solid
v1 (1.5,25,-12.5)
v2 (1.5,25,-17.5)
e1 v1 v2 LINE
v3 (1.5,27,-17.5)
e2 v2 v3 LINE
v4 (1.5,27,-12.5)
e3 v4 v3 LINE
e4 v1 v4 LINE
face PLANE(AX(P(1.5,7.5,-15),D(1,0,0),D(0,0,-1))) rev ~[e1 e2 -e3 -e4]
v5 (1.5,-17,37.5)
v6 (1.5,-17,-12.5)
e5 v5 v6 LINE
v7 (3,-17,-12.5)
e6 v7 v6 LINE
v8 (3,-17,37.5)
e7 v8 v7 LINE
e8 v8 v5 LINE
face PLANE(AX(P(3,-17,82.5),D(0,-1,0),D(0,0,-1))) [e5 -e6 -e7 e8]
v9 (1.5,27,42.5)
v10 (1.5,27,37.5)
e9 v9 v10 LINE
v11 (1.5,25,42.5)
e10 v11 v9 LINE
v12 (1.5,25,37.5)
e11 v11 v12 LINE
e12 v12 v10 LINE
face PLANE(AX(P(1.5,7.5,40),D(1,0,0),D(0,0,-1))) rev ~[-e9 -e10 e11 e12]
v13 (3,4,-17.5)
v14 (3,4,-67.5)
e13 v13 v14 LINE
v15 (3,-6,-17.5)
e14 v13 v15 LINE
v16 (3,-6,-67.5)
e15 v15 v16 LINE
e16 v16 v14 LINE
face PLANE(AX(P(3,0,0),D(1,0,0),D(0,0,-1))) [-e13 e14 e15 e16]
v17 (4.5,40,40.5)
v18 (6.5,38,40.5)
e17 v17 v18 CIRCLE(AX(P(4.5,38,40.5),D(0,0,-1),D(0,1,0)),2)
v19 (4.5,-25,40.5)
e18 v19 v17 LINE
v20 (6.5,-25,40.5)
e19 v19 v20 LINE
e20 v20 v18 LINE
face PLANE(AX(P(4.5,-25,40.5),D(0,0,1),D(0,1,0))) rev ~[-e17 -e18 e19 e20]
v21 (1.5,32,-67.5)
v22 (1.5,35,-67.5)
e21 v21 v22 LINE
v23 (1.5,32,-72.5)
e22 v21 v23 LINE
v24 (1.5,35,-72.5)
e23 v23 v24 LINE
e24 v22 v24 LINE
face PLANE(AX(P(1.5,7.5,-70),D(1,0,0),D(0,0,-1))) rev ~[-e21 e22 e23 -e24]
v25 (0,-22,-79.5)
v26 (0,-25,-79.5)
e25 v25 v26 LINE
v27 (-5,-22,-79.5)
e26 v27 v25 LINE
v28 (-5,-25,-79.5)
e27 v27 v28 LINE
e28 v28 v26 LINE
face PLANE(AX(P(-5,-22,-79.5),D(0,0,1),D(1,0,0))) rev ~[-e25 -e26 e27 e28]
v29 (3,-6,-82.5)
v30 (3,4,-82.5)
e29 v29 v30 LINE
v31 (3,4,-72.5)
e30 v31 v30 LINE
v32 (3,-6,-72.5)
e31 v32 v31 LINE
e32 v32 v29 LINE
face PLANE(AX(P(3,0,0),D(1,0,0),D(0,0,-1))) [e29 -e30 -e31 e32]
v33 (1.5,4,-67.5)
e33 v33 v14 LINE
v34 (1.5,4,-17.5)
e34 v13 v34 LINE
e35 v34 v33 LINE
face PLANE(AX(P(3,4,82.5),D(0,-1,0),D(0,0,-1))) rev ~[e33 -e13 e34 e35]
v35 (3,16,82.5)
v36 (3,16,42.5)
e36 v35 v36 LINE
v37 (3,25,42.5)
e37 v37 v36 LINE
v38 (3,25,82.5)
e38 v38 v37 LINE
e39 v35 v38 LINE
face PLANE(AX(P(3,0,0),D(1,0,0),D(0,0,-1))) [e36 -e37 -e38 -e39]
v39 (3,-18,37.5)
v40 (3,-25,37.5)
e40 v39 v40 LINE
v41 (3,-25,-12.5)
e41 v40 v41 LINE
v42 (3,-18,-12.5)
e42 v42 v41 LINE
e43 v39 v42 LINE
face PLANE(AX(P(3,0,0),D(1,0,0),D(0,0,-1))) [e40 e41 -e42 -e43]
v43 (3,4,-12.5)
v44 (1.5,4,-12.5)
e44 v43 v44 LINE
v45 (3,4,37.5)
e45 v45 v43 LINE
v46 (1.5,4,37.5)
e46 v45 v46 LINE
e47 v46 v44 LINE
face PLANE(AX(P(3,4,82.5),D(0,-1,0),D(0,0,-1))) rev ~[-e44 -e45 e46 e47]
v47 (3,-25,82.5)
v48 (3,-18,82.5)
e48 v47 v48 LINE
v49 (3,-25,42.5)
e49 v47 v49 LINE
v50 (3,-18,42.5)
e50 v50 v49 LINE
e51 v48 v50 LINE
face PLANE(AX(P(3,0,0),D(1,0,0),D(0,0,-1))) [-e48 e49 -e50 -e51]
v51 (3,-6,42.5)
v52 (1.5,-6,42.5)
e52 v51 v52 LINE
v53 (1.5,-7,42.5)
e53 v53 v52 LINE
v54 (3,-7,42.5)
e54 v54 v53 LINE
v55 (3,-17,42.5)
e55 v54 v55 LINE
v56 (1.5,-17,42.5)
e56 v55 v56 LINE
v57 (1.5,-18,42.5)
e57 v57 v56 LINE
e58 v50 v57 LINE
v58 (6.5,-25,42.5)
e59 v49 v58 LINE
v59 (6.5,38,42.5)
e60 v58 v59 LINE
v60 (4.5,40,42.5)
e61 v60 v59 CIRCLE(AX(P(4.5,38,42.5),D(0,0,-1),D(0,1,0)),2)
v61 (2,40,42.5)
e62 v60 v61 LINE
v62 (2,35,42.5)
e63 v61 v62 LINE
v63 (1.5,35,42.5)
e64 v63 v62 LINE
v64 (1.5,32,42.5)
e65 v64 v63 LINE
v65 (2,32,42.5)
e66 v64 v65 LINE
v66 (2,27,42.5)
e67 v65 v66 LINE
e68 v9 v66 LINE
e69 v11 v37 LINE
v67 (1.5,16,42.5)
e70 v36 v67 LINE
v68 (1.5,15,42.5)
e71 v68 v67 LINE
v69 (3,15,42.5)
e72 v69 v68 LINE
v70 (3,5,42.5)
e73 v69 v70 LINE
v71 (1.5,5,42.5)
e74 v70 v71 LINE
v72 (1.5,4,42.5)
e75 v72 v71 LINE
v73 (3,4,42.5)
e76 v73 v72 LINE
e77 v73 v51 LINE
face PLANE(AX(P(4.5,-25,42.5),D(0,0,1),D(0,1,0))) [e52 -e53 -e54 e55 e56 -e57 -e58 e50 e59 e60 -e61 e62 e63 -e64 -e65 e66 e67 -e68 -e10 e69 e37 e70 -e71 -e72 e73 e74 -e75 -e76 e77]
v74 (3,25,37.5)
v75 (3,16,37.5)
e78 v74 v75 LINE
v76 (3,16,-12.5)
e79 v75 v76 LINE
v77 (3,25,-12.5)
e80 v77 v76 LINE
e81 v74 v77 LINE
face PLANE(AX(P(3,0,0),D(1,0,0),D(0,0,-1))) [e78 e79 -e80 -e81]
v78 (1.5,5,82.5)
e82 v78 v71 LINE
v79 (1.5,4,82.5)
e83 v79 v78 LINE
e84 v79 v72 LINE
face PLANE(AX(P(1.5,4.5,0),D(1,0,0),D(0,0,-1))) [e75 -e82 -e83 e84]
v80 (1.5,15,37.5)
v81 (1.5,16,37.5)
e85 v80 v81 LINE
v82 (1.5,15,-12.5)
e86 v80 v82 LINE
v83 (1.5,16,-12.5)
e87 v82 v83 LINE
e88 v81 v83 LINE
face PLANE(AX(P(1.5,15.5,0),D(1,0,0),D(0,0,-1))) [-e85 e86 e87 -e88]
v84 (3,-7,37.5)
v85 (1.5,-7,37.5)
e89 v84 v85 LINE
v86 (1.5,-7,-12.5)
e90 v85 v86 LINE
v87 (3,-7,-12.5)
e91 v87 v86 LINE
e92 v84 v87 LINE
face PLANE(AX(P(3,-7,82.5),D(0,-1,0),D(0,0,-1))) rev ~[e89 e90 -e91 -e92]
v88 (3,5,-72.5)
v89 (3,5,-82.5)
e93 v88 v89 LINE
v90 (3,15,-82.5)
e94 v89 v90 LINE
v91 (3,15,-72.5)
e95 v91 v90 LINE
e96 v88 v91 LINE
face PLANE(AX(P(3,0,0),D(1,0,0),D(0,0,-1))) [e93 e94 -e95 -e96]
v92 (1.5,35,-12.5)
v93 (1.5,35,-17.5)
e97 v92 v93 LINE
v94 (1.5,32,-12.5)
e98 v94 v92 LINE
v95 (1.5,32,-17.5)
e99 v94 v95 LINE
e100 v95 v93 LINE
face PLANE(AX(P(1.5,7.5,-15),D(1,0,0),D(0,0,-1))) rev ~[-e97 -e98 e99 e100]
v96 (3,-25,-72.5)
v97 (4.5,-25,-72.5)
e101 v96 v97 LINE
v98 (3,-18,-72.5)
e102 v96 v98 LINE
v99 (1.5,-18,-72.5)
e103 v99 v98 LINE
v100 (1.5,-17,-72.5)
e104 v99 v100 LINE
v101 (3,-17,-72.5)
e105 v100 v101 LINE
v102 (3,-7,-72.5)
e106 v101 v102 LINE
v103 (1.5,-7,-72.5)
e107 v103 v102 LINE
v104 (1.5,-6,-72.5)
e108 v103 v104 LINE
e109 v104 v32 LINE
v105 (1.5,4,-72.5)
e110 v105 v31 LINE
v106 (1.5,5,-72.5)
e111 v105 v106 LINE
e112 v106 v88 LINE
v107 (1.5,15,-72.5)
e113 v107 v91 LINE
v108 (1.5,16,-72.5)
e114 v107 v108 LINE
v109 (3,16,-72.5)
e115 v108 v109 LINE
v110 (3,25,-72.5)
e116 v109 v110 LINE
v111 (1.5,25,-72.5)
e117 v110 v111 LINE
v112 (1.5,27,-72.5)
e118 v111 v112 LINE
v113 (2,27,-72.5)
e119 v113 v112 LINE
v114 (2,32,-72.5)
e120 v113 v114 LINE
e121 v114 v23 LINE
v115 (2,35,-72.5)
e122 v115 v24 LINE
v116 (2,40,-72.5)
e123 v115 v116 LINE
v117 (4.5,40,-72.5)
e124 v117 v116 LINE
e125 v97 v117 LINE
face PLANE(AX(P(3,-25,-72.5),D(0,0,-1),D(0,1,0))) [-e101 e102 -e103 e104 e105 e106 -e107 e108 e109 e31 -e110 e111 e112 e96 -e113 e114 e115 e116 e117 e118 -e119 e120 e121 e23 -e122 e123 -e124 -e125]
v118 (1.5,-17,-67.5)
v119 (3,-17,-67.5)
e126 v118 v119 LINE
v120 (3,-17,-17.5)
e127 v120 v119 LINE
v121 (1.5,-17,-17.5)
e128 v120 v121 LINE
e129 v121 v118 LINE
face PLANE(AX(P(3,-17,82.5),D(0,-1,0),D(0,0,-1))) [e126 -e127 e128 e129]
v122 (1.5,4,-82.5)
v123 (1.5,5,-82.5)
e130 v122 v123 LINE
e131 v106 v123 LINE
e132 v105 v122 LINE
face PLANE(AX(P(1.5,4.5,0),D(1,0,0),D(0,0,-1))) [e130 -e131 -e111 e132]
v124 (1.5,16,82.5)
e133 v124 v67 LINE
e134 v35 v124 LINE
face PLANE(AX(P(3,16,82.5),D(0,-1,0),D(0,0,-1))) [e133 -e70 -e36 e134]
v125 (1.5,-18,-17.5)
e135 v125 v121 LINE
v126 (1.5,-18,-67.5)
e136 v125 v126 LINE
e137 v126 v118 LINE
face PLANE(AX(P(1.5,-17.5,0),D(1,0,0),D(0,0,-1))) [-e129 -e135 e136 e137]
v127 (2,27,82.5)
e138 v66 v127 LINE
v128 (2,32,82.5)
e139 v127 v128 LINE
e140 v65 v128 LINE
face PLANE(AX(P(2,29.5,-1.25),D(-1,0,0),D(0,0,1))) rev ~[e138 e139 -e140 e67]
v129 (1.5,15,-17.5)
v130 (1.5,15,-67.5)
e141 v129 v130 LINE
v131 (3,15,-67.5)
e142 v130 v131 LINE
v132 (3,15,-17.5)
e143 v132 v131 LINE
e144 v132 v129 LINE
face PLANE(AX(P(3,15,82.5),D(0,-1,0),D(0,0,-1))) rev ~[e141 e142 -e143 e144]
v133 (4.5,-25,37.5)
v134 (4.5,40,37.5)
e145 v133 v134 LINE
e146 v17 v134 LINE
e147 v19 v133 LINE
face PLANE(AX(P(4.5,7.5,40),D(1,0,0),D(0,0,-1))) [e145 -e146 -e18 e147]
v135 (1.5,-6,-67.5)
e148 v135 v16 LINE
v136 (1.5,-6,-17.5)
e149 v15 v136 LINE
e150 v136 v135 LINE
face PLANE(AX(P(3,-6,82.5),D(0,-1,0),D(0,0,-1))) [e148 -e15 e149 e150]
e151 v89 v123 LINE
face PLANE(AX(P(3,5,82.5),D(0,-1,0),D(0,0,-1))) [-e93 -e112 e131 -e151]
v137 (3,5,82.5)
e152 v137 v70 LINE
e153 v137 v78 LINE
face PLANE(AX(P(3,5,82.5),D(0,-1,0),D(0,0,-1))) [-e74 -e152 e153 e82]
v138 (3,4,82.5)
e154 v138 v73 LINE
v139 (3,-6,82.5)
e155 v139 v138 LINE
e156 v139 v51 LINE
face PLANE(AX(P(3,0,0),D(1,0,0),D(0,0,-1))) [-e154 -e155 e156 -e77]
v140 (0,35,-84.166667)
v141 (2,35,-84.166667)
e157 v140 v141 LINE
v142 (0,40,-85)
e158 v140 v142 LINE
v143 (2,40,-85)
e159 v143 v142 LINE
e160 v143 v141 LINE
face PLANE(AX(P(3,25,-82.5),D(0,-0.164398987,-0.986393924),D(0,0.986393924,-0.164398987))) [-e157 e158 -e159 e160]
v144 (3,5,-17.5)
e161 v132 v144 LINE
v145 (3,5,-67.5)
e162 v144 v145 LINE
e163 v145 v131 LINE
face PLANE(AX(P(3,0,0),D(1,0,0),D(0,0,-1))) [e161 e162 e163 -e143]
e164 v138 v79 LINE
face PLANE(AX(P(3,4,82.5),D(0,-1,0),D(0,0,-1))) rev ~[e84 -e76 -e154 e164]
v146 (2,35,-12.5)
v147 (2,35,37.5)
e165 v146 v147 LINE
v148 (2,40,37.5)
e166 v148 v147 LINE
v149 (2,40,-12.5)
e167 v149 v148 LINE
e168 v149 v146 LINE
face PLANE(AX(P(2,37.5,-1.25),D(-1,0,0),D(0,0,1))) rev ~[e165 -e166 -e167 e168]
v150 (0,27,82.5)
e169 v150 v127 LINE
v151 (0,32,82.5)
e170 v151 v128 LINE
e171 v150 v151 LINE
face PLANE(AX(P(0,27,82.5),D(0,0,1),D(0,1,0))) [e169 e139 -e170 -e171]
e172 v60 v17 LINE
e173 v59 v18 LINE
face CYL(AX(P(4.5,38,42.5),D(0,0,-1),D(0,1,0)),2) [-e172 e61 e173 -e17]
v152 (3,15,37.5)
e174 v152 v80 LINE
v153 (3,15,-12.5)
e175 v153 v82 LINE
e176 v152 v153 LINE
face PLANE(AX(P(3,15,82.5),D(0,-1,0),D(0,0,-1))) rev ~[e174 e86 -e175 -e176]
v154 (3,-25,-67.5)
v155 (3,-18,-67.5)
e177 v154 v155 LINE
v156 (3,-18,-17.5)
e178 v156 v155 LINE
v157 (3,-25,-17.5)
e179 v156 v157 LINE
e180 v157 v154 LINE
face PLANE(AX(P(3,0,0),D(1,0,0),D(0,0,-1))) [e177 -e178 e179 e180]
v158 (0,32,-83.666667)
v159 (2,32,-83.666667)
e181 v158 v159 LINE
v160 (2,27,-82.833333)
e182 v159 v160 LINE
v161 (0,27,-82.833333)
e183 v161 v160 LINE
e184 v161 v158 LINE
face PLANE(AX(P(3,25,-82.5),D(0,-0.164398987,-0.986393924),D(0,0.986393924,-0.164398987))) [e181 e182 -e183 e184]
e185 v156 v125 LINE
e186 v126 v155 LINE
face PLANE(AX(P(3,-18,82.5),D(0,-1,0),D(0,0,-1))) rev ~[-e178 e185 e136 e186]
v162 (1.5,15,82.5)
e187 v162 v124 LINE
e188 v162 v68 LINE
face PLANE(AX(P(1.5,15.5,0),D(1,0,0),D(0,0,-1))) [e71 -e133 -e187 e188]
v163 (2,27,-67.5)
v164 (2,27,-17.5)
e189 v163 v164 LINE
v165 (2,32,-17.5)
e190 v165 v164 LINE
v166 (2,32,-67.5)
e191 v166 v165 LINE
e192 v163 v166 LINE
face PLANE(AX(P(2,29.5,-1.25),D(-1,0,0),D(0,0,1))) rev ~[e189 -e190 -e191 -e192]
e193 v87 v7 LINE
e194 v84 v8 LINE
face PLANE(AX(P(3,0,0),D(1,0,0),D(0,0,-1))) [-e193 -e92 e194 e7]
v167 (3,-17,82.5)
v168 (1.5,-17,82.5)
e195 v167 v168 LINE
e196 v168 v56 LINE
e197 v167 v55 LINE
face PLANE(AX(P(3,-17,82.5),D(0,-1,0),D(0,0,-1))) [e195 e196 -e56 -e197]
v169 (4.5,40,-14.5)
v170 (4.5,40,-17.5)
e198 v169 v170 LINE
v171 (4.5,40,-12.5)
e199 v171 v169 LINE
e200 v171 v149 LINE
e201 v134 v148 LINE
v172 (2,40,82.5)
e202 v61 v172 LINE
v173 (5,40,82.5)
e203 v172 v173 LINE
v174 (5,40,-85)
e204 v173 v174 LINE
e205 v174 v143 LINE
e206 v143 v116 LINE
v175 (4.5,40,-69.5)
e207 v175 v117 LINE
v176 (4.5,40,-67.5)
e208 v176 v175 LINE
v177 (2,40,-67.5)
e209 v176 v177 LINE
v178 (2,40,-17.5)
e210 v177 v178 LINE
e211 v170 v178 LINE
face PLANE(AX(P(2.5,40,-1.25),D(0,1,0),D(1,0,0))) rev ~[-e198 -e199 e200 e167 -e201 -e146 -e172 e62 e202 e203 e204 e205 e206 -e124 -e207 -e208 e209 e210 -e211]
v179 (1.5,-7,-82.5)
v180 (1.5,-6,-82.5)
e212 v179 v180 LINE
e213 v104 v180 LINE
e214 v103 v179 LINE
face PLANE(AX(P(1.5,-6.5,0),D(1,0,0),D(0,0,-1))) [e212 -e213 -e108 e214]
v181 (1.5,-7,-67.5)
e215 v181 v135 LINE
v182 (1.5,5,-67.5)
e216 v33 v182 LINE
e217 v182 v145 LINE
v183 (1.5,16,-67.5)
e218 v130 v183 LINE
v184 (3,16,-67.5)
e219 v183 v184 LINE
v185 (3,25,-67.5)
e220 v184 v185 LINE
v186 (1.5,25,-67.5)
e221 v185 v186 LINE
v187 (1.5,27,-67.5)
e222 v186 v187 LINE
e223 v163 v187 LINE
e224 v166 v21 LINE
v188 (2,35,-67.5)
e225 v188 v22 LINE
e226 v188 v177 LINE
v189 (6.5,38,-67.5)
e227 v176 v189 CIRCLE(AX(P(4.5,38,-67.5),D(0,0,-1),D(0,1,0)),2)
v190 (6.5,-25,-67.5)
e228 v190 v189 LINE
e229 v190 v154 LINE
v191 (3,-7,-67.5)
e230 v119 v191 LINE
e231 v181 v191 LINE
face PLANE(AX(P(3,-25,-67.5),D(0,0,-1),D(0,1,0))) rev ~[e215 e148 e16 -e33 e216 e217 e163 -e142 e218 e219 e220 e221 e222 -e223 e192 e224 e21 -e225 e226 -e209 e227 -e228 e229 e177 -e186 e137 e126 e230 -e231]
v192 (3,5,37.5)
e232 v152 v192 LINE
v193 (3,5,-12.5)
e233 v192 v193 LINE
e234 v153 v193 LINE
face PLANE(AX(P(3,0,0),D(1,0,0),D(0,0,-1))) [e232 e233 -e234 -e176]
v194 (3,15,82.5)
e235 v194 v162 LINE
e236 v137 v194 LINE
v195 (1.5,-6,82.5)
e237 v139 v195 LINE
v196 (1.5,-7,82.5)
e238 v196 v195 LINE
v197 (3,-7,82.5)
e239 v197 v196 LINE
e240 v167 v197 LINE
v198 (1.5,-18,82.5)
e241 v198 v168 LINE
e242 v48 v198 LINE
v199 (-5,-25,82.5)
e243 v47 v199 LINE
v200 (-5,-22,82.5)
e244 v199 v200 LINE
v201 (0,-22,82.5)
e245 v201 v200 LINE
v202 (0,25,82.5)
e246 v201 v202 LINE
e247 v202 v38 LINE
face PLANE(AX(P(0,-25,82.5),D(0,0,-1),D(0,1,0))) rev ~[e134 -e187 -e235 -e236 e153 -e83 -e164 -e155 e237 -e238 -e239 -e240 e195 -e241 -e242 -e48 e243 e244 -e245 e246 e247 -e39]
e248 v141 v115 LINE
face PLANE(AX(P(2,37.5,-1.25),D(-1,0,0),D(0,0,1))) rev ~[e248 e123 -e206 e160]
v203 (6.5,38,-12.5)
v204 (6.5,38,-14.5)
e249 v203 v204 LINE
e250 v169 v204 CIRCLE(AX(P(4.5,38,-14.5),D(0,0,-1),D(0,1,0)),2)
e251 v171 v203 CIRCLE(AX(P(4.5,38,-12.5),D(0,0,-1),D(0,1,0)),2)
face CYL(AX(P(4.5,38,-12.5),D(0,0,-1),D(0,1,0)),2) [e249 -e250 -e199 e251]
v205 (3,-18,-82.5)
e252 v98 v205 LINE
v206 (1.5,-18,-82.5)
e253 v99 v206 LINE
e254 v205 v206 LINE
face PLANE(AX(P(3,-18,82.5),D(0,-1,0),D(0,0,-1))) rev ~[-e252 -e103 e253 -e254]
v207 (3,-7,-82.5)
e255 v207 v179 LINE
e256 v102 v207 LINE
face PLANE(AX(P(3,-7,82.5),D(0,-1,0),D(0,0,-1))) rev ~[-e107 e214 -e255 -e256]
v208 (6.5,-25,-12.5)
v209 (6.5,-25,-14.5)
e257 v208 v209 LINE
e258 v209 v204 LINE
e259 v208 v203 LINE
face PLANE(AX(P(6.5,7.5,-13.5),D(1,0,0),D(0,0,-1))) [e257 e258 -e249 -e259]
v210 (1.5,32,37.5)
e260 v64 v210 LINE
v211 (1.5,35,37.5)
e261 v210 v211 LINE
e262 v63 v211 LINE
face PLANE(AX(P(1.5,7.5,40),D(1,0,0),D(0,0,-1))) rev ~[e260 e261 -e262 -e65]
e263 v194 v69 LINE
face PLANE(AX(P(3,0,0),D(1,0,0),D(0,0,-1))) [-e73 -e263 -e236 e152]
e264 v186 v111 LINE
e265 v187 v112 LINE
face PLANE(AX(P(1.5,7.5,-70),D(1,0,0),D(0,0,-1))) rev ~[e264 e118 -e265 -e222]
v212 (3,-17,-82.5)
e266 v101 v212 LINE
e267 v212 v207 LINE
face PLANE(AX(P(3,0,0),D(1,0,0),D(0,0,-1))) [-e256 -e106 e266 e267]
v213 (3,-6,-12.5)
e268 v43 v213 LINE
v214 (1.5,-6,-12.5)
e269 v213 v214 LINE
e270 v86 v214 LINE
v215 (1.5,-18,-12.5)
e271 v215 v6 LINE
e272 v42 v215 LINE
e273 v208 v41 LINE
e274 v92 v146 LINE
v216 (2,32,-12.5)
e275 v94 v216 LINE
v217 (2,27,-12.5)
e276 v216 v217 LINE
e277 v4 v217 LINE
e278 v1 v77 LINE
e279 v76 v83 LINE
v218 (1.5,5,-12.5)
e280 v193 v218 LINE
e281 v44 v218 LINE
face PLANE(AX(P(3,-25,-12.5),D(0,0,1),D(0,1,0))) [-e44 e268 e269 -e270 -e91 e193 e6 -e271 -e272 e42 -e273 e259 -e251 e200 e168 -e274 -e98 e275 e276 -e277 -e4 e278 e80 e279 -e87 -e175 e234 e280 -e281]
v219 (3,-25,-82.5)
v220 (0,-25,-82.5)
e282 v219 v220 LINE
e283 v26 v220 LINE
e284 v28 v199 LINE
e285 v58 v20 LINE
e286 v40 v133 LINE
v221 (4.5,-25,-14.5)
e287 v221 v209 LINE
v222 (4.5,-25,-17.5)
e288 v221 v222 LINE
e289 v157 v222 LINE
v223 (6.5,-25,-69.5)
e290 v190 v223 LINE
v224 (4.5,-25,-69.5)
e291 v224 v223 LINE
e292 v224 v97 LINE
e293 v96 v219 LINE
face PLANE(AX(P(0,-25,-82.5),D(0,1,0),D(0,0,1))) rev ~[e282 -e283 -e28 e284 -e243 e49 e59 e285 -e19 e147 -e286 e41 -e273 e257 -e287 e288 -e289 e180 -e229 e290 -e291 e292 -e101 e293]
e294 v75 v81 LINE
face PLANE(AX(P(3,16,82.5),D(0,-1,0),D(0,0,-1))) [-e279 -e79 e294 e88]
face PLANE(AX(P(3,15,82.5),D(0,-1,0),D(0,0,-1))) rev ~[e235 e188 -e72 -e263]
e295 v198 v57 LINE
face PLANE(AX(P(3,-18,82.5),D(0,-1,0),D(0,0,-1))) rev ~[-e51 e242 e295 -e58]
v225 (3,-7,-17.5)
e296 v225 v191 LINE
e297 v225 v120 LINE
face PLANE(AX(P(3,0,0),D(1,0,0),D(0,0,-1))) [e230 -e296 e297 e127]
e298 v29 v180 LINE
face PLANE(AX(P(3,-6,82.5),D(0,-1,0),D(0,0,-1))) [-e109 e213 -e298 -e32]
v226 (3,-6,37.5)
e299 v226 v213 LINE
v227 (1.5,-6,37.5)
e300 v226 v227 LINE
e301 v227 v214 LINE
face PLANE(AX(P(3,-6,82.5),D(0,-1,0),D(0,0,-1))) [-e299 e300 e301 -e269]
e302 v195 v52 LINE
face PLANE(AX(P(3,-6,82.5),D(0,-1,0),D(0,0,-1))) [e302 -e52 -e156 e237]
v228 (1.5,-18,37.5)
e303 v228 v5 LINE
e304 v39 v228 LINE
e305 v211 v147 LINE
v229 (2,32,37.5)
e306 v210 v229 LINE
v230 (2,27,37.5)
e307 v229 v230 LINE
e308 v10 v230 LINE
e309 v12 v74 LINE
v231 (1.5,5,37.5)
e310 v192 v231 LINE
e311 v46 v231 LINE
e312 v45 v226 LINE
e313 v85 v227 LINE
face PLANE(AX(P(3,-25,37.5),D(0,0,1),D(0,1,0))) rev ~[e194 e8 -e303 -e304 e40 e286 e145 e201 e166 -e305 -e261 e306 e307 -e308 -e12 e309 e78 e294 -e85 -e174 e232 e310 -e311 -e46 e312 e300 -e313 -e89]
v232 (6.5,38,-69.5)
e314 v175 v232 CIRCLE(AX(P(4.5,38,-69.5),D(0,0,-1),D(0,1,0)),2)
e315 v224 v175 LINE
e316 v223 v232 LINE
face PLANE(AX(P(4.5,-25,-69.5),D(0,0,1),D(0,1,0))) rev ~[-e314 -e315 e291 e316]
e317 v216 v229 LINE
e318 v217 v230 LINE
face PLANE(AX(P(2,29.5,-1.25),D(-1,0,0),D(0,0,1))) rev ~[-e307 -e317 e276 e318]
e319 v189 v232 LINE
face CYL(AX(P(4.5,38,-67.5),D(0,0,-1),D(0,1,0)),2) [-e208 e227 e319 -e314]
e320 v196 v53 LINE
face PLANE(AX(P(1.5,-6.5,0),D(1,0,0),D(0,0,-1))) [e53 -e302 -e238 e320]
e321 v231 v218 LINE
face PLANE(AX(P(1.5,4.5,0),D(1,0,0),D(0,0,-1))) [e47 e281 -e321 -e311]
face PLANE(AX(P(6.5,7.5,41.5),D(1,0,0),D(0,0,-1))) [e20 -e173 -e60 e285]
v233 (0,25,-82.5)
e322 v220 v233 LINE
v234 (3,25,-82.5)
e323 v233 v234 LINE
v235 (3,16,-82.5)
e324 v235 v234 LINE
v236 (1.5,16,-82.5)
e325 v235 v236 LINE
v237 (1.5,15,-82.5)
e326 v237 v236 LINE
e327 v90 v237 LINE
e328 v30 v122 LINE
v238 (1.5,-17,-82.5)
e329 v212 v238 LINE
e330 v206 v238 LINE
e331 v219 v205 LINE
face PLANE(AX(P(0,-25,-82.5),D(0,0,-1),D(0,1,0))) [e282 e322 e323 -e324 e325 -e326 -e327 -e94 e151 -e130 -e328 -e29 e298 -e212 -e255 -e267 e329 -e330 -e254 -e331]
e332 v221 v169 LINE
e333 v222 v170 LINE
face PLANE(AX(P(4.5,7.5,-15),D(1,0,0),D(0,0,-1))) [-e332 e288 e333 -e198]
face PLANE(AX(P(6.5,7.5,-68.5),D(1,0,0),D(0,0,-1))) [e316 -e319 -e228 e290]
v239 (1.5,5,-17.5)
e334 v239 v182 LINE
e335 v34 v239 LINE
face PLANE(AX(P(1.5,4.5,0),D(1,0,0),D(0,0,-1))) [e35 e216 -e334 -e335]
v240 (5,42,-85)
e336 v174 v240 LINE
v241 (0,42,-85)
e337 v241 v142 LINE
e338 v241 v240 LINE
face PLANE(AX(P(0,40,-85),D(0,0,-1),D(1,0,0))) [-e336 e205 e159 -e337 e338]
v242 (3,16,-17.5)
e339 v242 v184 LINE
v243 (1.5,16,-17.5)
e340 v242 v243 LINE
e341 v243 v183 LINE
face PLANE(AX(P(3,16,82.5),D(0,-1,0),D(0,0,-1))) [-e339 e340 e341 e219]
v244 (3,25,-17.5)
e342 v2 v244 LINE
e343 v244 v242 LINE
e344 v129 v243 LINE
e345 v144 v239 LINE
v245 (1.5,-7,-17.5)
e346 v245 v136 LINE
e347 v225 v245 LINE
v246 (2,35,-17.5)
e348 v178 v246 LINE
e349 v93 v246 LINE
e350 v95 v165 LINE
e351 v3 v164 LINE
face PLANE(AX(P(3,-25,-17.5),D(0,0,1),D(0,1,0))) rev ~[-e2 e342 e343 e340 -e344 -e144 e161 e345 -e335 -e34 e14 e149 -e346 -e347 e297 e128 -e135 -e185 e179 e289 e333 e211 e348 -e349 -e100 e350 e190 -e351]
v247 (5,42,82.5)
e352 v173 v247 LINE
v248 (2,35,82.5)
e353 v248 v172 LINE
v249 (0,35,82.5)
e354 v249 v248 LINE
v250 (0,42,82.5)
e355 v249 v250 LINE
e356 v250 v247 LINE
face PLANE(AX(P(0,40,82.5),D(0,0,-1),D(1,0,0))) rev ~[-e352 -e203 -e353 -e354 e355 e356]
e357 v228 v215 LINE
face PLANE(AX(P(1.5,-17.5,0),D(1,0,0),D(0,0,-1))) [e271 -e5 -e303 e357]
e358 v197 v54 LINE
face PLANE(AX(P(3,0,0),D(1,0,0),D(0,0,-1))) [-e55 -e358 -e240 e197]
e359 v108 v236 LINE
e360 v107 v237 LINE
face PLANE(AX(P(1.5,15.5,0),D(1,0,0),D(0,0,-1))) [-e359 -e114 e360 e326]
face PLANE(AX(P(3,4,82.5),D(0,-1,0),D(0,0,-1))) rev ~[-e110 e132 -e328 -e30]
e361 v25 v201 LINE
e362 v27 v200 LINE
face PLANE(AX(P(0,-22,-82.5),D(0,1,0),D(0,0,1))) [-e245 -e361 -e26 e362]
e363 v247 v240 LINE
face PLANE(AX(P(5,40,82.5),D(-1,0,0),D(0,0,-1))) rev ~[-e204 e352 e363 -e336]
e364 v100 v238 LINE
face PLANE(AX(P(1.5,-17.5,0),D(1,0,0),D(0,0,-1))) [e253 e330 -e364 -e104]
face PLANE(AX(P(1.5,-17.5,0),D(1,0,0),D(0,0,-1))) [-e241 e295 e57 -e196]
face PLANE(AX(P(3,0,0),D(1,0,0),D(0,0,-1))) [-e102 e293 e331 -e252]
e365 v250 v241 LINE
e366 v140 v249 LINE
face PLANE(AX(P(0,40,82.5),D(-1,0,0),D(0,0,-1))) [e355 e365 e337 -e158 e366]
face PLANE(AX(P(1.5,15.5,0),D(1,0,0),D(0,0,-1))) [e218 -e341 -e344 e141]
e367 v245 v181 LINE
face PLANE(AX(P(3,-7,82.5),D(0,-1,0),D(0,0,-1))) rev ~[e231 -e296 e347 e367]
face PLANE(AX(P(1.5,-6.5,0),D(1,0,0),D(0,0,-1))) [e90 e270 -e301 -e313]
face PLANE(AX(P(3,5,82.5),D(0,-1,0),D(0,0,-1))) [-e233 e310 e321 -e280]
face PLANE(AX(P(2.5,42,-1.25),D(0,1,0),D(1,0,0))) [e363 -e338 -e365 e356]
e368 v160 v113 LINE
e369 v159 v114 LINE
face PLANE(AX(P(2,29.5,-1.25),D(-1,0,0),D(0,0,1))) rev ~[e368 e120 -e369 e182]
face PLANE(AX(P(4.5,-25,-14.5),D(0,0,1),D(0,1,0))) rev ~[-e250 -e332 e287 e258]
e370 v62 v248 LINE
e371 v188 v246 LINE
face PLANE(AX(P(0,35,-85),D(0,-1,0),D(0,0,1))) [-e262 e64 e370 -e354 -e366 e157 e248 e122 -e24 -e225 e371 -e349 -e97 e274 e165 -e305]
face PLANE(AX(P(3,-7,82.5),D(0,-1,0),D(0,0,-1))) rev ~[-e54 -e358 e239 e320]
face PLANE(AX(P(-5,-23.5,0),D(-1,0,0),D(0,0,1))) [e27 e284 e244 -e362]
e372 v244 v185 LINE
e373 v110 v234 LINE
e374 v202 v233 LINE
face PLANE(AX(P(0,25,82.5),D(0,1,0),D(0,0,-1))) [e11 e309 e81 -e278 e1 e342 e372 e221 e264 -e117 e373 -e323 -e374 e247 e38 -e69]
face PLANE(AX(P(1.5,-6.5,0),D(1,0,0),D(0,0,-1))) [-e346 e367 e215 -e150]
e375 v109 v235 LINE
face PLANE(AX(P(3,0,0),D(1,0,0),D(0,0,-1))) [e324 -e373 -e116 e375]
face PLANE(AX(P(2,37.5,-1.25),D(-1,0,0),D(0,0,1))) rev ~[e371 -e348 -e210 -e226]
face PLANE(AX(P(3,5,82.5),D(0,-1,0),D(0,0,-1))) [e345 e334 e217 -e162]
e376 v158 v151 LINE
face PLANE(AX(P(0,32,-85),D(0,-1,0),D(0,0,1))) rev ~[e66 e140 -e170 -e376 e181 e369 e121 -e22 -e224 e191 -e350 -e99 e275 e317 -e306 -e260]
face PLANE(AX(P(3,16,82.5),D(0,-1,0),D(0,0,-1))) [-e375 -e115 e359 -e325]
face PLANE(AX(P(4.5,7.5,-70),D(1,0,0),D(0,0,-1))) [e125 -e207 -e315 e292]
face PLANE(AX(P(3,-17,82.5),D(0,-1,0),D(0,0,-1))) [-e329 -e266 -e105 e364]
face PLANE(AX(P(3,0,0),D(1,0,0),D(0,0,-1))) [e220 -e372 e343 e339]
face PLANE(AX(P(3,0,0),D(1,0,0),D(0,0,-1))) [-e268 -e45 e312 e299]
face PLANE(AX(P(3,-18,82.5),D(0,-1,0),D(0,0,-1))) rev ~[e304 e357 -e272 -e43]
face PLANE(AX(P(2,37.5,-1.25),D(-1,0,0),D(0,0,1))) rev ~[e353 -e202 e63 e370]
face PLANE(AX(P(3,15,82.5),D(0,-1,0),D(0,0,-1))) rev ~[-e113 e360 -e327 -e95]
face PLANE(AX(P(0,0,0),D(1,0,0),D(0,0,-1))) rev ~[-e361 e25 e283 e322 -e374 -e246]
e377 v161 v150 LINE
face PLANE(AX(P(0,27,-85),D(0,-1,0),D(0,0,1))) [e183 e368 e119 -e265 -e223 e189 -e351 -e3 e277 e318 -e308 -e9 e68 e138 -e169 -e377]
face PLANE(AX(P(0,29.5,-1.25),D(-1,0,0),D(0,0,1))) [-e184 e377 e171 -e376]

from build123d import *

# Parameters (mm, degrees)
SKETCH1_W           = 165
SKETCH1_H           = 50
BOSS_EXTRUDE1_DEPTH = 3
SKETCH3_W           = 165
SKETCH3_H           = 1
CUT_EXTRUDE1_DEPTH  = 1.5
SKETCH4_W           = 5
SKETCH4_H           = 65
BOSS_EXTRUDE2_DEPTH = 1.5
SKETCH5_W           = 2
SKETCH5_H           = 65
BOSS_EXTRUDE3_DEPTH = 2
FILLET1_R           = 2
SKETCH8_W           = 167.5
SKETCH8_H           = 5
BOSS_EXTRUDE4_DEPTH = 2
SKETCH6_W           = 5
SKETCH6_H           = 167.5
BOSS_EXTRUDE5_DEPTH = 2
CUT_EXTRUDE2_DEPTH  = 3
SKETCH10_W          = 165
SKETCH10_H          = 3
BOSS_EXTRUDE6_DEPTH = 5
SKETCH11_W          = 5
SKETCH11_H          = 3
CUT_EXTRUDE3_DEPTH  = 3


with BuildPart() as part:
    # Sketch1 → Boss-Extrude1 (new body)
    with BuildSketch(Plane(origin=(0, 0, 0), x_dir=(0, 0, -1), z_dir=(1, 0, 0))):
        Rectangle(SKETCH1_W, SKETCH1_H)
    extrude(amount=BOSS_EXTRUDE1_DEPTH)

    # Sketch3 → Cut-Extrude1 (cut)
    with BuildSketch(Plane(origin=(3, 0, 0), x_dir=(0, 0, -1), z_dir=(1, 0, 0))):
        with Locations((0, -17.5)):
            Rectangle(SKETCH3_W, SKETCH3_H)
        with Locations((0, -6.5)):
            Rectangle(SKETCH3_W, SKETCH3_H)
        with Locations((0, 4.5)):
            Rectangle(SKETCH3_W, SKETCH3_H)
        with Locations((0, 15.5)):
            Rectangle(SKETCH3_W, SKETCH3_H)
    extrude(amount=-CUT_EXTRUDE1_DEPTH, mode=Mode.SUBTRACT)

    # Sketch4 → Boss-Extrude2 (add, symmetric)
    with BuildSketch(Plane(origin=(3, 0, 0), x_dir=(0, 0, -1), z_dir=(1, 0, 0))):
        with Locations((-40, 7.5)):
            Rectangle(SKETCH4_W, SKETCH4_H)
        with Locations((15, 7.5)):
            Rectangle(SKETCH4_W, SKETCH4_H)
        with Locations((70, 7.5)):
            Rectangle(SKETCH4_W, SKETCH4_H)
    extrude(amount=BOSS_EXTRUDE2_DEPTH, both=True)

    # Sketch5 → Boss-Extrude3 (add)
    with BuildSketch(Plane(origin=(4.5, 0, 0), x_dir=(0, 0, -1), z_dir=(1, 0, 0))):
        with Locations((-41.5, 7.5)):
            Rectangle(SKETCH5_W, SKETCH5_H)
        with Locations((13.5, 7.5)):
            Rectangle(SKETCH5_W, SKETCH5_H)
        with Locations((68.5, 7.5)):
            Rectangle(SKETCH5_W, SKETCH5_H)
    extrude(amount=BOSS_EXTRUDE3_DEPTH)

    # Fillet1
    fillet1_edges = [part.edges().sort_by_distance(p)[0] for p in [
        (6.5, 40, -68.5),
        (6.5, 40, -13.5),
        (6.5, 40, 41.5),
    ]]
    fillet(fillet1_edges, radius=FILLET1_R)

    # Sketch8 → Boss-Extrude4 (add)
    with BuildSketch(Plane.ZY):
        with Locations((-1.25, 37.5)):
            Rectangle(SKETCH8_W, SKETCH8_H)
        with Locations((-1.25, 29.5)):
            Rectangle(SKETCH8_W, SKETCH8_H)
    extrude(amount=-BOSS_EXTRUDE4_DEPTH)

    # Sketch6 → Boss-Extrude5 (add)
    with BuildSketch(Plane(origin=(0, 40, 0), x_dir=(1, 0, 0), z_dir=(0, 1, 0))):
        with Locations((2.5, 1.25)):
            Rectangle(SKETCH6_W, SKETCH6_H)
    extrude(amount=BOSS_EXTRUDE5_DEPTH)

    # Sketch9 → Cut-Extrude2 (cut)
    with BuildSketch(Plane(origin=(3, 0, 0), x_dir=(0, 0, -1), z_dir=(1, 0, 0))):
        Polygon((82.5, 25), (85, 40), (86.823403956, 40), (86.823403956, 25), align=None)
    extrude(amount=-CUT_EXTRUDE2_DEPTH, mode=Mode.SUBTRACT)

    # Sketch10 → Boss-Extrude6 (add)
    with BuildSketch(Plane.ZY):
        with Locations((0, -23.5)):
            Rectangle(SKETCH10_W, SKETCH10_H)
    extrude(amount=BOSS_EXTRUDE6_DEPTH)

    # Sketch11 → Cut-Extrude3 (cut)
    with BuildSketch(Plane(origin=(0, -22, 0), x_dir=(1, 0, 0), z_dir=(0, 1, 0))):
        with Locations((-2.5, 81)):
            Rectangle(SKETCH11_W, SKETCH11_H)
    extrude(amount=-CUT_EXTRUDE3_DEPTH, mode=Mode.SUBTRACT)


solid = part.part
